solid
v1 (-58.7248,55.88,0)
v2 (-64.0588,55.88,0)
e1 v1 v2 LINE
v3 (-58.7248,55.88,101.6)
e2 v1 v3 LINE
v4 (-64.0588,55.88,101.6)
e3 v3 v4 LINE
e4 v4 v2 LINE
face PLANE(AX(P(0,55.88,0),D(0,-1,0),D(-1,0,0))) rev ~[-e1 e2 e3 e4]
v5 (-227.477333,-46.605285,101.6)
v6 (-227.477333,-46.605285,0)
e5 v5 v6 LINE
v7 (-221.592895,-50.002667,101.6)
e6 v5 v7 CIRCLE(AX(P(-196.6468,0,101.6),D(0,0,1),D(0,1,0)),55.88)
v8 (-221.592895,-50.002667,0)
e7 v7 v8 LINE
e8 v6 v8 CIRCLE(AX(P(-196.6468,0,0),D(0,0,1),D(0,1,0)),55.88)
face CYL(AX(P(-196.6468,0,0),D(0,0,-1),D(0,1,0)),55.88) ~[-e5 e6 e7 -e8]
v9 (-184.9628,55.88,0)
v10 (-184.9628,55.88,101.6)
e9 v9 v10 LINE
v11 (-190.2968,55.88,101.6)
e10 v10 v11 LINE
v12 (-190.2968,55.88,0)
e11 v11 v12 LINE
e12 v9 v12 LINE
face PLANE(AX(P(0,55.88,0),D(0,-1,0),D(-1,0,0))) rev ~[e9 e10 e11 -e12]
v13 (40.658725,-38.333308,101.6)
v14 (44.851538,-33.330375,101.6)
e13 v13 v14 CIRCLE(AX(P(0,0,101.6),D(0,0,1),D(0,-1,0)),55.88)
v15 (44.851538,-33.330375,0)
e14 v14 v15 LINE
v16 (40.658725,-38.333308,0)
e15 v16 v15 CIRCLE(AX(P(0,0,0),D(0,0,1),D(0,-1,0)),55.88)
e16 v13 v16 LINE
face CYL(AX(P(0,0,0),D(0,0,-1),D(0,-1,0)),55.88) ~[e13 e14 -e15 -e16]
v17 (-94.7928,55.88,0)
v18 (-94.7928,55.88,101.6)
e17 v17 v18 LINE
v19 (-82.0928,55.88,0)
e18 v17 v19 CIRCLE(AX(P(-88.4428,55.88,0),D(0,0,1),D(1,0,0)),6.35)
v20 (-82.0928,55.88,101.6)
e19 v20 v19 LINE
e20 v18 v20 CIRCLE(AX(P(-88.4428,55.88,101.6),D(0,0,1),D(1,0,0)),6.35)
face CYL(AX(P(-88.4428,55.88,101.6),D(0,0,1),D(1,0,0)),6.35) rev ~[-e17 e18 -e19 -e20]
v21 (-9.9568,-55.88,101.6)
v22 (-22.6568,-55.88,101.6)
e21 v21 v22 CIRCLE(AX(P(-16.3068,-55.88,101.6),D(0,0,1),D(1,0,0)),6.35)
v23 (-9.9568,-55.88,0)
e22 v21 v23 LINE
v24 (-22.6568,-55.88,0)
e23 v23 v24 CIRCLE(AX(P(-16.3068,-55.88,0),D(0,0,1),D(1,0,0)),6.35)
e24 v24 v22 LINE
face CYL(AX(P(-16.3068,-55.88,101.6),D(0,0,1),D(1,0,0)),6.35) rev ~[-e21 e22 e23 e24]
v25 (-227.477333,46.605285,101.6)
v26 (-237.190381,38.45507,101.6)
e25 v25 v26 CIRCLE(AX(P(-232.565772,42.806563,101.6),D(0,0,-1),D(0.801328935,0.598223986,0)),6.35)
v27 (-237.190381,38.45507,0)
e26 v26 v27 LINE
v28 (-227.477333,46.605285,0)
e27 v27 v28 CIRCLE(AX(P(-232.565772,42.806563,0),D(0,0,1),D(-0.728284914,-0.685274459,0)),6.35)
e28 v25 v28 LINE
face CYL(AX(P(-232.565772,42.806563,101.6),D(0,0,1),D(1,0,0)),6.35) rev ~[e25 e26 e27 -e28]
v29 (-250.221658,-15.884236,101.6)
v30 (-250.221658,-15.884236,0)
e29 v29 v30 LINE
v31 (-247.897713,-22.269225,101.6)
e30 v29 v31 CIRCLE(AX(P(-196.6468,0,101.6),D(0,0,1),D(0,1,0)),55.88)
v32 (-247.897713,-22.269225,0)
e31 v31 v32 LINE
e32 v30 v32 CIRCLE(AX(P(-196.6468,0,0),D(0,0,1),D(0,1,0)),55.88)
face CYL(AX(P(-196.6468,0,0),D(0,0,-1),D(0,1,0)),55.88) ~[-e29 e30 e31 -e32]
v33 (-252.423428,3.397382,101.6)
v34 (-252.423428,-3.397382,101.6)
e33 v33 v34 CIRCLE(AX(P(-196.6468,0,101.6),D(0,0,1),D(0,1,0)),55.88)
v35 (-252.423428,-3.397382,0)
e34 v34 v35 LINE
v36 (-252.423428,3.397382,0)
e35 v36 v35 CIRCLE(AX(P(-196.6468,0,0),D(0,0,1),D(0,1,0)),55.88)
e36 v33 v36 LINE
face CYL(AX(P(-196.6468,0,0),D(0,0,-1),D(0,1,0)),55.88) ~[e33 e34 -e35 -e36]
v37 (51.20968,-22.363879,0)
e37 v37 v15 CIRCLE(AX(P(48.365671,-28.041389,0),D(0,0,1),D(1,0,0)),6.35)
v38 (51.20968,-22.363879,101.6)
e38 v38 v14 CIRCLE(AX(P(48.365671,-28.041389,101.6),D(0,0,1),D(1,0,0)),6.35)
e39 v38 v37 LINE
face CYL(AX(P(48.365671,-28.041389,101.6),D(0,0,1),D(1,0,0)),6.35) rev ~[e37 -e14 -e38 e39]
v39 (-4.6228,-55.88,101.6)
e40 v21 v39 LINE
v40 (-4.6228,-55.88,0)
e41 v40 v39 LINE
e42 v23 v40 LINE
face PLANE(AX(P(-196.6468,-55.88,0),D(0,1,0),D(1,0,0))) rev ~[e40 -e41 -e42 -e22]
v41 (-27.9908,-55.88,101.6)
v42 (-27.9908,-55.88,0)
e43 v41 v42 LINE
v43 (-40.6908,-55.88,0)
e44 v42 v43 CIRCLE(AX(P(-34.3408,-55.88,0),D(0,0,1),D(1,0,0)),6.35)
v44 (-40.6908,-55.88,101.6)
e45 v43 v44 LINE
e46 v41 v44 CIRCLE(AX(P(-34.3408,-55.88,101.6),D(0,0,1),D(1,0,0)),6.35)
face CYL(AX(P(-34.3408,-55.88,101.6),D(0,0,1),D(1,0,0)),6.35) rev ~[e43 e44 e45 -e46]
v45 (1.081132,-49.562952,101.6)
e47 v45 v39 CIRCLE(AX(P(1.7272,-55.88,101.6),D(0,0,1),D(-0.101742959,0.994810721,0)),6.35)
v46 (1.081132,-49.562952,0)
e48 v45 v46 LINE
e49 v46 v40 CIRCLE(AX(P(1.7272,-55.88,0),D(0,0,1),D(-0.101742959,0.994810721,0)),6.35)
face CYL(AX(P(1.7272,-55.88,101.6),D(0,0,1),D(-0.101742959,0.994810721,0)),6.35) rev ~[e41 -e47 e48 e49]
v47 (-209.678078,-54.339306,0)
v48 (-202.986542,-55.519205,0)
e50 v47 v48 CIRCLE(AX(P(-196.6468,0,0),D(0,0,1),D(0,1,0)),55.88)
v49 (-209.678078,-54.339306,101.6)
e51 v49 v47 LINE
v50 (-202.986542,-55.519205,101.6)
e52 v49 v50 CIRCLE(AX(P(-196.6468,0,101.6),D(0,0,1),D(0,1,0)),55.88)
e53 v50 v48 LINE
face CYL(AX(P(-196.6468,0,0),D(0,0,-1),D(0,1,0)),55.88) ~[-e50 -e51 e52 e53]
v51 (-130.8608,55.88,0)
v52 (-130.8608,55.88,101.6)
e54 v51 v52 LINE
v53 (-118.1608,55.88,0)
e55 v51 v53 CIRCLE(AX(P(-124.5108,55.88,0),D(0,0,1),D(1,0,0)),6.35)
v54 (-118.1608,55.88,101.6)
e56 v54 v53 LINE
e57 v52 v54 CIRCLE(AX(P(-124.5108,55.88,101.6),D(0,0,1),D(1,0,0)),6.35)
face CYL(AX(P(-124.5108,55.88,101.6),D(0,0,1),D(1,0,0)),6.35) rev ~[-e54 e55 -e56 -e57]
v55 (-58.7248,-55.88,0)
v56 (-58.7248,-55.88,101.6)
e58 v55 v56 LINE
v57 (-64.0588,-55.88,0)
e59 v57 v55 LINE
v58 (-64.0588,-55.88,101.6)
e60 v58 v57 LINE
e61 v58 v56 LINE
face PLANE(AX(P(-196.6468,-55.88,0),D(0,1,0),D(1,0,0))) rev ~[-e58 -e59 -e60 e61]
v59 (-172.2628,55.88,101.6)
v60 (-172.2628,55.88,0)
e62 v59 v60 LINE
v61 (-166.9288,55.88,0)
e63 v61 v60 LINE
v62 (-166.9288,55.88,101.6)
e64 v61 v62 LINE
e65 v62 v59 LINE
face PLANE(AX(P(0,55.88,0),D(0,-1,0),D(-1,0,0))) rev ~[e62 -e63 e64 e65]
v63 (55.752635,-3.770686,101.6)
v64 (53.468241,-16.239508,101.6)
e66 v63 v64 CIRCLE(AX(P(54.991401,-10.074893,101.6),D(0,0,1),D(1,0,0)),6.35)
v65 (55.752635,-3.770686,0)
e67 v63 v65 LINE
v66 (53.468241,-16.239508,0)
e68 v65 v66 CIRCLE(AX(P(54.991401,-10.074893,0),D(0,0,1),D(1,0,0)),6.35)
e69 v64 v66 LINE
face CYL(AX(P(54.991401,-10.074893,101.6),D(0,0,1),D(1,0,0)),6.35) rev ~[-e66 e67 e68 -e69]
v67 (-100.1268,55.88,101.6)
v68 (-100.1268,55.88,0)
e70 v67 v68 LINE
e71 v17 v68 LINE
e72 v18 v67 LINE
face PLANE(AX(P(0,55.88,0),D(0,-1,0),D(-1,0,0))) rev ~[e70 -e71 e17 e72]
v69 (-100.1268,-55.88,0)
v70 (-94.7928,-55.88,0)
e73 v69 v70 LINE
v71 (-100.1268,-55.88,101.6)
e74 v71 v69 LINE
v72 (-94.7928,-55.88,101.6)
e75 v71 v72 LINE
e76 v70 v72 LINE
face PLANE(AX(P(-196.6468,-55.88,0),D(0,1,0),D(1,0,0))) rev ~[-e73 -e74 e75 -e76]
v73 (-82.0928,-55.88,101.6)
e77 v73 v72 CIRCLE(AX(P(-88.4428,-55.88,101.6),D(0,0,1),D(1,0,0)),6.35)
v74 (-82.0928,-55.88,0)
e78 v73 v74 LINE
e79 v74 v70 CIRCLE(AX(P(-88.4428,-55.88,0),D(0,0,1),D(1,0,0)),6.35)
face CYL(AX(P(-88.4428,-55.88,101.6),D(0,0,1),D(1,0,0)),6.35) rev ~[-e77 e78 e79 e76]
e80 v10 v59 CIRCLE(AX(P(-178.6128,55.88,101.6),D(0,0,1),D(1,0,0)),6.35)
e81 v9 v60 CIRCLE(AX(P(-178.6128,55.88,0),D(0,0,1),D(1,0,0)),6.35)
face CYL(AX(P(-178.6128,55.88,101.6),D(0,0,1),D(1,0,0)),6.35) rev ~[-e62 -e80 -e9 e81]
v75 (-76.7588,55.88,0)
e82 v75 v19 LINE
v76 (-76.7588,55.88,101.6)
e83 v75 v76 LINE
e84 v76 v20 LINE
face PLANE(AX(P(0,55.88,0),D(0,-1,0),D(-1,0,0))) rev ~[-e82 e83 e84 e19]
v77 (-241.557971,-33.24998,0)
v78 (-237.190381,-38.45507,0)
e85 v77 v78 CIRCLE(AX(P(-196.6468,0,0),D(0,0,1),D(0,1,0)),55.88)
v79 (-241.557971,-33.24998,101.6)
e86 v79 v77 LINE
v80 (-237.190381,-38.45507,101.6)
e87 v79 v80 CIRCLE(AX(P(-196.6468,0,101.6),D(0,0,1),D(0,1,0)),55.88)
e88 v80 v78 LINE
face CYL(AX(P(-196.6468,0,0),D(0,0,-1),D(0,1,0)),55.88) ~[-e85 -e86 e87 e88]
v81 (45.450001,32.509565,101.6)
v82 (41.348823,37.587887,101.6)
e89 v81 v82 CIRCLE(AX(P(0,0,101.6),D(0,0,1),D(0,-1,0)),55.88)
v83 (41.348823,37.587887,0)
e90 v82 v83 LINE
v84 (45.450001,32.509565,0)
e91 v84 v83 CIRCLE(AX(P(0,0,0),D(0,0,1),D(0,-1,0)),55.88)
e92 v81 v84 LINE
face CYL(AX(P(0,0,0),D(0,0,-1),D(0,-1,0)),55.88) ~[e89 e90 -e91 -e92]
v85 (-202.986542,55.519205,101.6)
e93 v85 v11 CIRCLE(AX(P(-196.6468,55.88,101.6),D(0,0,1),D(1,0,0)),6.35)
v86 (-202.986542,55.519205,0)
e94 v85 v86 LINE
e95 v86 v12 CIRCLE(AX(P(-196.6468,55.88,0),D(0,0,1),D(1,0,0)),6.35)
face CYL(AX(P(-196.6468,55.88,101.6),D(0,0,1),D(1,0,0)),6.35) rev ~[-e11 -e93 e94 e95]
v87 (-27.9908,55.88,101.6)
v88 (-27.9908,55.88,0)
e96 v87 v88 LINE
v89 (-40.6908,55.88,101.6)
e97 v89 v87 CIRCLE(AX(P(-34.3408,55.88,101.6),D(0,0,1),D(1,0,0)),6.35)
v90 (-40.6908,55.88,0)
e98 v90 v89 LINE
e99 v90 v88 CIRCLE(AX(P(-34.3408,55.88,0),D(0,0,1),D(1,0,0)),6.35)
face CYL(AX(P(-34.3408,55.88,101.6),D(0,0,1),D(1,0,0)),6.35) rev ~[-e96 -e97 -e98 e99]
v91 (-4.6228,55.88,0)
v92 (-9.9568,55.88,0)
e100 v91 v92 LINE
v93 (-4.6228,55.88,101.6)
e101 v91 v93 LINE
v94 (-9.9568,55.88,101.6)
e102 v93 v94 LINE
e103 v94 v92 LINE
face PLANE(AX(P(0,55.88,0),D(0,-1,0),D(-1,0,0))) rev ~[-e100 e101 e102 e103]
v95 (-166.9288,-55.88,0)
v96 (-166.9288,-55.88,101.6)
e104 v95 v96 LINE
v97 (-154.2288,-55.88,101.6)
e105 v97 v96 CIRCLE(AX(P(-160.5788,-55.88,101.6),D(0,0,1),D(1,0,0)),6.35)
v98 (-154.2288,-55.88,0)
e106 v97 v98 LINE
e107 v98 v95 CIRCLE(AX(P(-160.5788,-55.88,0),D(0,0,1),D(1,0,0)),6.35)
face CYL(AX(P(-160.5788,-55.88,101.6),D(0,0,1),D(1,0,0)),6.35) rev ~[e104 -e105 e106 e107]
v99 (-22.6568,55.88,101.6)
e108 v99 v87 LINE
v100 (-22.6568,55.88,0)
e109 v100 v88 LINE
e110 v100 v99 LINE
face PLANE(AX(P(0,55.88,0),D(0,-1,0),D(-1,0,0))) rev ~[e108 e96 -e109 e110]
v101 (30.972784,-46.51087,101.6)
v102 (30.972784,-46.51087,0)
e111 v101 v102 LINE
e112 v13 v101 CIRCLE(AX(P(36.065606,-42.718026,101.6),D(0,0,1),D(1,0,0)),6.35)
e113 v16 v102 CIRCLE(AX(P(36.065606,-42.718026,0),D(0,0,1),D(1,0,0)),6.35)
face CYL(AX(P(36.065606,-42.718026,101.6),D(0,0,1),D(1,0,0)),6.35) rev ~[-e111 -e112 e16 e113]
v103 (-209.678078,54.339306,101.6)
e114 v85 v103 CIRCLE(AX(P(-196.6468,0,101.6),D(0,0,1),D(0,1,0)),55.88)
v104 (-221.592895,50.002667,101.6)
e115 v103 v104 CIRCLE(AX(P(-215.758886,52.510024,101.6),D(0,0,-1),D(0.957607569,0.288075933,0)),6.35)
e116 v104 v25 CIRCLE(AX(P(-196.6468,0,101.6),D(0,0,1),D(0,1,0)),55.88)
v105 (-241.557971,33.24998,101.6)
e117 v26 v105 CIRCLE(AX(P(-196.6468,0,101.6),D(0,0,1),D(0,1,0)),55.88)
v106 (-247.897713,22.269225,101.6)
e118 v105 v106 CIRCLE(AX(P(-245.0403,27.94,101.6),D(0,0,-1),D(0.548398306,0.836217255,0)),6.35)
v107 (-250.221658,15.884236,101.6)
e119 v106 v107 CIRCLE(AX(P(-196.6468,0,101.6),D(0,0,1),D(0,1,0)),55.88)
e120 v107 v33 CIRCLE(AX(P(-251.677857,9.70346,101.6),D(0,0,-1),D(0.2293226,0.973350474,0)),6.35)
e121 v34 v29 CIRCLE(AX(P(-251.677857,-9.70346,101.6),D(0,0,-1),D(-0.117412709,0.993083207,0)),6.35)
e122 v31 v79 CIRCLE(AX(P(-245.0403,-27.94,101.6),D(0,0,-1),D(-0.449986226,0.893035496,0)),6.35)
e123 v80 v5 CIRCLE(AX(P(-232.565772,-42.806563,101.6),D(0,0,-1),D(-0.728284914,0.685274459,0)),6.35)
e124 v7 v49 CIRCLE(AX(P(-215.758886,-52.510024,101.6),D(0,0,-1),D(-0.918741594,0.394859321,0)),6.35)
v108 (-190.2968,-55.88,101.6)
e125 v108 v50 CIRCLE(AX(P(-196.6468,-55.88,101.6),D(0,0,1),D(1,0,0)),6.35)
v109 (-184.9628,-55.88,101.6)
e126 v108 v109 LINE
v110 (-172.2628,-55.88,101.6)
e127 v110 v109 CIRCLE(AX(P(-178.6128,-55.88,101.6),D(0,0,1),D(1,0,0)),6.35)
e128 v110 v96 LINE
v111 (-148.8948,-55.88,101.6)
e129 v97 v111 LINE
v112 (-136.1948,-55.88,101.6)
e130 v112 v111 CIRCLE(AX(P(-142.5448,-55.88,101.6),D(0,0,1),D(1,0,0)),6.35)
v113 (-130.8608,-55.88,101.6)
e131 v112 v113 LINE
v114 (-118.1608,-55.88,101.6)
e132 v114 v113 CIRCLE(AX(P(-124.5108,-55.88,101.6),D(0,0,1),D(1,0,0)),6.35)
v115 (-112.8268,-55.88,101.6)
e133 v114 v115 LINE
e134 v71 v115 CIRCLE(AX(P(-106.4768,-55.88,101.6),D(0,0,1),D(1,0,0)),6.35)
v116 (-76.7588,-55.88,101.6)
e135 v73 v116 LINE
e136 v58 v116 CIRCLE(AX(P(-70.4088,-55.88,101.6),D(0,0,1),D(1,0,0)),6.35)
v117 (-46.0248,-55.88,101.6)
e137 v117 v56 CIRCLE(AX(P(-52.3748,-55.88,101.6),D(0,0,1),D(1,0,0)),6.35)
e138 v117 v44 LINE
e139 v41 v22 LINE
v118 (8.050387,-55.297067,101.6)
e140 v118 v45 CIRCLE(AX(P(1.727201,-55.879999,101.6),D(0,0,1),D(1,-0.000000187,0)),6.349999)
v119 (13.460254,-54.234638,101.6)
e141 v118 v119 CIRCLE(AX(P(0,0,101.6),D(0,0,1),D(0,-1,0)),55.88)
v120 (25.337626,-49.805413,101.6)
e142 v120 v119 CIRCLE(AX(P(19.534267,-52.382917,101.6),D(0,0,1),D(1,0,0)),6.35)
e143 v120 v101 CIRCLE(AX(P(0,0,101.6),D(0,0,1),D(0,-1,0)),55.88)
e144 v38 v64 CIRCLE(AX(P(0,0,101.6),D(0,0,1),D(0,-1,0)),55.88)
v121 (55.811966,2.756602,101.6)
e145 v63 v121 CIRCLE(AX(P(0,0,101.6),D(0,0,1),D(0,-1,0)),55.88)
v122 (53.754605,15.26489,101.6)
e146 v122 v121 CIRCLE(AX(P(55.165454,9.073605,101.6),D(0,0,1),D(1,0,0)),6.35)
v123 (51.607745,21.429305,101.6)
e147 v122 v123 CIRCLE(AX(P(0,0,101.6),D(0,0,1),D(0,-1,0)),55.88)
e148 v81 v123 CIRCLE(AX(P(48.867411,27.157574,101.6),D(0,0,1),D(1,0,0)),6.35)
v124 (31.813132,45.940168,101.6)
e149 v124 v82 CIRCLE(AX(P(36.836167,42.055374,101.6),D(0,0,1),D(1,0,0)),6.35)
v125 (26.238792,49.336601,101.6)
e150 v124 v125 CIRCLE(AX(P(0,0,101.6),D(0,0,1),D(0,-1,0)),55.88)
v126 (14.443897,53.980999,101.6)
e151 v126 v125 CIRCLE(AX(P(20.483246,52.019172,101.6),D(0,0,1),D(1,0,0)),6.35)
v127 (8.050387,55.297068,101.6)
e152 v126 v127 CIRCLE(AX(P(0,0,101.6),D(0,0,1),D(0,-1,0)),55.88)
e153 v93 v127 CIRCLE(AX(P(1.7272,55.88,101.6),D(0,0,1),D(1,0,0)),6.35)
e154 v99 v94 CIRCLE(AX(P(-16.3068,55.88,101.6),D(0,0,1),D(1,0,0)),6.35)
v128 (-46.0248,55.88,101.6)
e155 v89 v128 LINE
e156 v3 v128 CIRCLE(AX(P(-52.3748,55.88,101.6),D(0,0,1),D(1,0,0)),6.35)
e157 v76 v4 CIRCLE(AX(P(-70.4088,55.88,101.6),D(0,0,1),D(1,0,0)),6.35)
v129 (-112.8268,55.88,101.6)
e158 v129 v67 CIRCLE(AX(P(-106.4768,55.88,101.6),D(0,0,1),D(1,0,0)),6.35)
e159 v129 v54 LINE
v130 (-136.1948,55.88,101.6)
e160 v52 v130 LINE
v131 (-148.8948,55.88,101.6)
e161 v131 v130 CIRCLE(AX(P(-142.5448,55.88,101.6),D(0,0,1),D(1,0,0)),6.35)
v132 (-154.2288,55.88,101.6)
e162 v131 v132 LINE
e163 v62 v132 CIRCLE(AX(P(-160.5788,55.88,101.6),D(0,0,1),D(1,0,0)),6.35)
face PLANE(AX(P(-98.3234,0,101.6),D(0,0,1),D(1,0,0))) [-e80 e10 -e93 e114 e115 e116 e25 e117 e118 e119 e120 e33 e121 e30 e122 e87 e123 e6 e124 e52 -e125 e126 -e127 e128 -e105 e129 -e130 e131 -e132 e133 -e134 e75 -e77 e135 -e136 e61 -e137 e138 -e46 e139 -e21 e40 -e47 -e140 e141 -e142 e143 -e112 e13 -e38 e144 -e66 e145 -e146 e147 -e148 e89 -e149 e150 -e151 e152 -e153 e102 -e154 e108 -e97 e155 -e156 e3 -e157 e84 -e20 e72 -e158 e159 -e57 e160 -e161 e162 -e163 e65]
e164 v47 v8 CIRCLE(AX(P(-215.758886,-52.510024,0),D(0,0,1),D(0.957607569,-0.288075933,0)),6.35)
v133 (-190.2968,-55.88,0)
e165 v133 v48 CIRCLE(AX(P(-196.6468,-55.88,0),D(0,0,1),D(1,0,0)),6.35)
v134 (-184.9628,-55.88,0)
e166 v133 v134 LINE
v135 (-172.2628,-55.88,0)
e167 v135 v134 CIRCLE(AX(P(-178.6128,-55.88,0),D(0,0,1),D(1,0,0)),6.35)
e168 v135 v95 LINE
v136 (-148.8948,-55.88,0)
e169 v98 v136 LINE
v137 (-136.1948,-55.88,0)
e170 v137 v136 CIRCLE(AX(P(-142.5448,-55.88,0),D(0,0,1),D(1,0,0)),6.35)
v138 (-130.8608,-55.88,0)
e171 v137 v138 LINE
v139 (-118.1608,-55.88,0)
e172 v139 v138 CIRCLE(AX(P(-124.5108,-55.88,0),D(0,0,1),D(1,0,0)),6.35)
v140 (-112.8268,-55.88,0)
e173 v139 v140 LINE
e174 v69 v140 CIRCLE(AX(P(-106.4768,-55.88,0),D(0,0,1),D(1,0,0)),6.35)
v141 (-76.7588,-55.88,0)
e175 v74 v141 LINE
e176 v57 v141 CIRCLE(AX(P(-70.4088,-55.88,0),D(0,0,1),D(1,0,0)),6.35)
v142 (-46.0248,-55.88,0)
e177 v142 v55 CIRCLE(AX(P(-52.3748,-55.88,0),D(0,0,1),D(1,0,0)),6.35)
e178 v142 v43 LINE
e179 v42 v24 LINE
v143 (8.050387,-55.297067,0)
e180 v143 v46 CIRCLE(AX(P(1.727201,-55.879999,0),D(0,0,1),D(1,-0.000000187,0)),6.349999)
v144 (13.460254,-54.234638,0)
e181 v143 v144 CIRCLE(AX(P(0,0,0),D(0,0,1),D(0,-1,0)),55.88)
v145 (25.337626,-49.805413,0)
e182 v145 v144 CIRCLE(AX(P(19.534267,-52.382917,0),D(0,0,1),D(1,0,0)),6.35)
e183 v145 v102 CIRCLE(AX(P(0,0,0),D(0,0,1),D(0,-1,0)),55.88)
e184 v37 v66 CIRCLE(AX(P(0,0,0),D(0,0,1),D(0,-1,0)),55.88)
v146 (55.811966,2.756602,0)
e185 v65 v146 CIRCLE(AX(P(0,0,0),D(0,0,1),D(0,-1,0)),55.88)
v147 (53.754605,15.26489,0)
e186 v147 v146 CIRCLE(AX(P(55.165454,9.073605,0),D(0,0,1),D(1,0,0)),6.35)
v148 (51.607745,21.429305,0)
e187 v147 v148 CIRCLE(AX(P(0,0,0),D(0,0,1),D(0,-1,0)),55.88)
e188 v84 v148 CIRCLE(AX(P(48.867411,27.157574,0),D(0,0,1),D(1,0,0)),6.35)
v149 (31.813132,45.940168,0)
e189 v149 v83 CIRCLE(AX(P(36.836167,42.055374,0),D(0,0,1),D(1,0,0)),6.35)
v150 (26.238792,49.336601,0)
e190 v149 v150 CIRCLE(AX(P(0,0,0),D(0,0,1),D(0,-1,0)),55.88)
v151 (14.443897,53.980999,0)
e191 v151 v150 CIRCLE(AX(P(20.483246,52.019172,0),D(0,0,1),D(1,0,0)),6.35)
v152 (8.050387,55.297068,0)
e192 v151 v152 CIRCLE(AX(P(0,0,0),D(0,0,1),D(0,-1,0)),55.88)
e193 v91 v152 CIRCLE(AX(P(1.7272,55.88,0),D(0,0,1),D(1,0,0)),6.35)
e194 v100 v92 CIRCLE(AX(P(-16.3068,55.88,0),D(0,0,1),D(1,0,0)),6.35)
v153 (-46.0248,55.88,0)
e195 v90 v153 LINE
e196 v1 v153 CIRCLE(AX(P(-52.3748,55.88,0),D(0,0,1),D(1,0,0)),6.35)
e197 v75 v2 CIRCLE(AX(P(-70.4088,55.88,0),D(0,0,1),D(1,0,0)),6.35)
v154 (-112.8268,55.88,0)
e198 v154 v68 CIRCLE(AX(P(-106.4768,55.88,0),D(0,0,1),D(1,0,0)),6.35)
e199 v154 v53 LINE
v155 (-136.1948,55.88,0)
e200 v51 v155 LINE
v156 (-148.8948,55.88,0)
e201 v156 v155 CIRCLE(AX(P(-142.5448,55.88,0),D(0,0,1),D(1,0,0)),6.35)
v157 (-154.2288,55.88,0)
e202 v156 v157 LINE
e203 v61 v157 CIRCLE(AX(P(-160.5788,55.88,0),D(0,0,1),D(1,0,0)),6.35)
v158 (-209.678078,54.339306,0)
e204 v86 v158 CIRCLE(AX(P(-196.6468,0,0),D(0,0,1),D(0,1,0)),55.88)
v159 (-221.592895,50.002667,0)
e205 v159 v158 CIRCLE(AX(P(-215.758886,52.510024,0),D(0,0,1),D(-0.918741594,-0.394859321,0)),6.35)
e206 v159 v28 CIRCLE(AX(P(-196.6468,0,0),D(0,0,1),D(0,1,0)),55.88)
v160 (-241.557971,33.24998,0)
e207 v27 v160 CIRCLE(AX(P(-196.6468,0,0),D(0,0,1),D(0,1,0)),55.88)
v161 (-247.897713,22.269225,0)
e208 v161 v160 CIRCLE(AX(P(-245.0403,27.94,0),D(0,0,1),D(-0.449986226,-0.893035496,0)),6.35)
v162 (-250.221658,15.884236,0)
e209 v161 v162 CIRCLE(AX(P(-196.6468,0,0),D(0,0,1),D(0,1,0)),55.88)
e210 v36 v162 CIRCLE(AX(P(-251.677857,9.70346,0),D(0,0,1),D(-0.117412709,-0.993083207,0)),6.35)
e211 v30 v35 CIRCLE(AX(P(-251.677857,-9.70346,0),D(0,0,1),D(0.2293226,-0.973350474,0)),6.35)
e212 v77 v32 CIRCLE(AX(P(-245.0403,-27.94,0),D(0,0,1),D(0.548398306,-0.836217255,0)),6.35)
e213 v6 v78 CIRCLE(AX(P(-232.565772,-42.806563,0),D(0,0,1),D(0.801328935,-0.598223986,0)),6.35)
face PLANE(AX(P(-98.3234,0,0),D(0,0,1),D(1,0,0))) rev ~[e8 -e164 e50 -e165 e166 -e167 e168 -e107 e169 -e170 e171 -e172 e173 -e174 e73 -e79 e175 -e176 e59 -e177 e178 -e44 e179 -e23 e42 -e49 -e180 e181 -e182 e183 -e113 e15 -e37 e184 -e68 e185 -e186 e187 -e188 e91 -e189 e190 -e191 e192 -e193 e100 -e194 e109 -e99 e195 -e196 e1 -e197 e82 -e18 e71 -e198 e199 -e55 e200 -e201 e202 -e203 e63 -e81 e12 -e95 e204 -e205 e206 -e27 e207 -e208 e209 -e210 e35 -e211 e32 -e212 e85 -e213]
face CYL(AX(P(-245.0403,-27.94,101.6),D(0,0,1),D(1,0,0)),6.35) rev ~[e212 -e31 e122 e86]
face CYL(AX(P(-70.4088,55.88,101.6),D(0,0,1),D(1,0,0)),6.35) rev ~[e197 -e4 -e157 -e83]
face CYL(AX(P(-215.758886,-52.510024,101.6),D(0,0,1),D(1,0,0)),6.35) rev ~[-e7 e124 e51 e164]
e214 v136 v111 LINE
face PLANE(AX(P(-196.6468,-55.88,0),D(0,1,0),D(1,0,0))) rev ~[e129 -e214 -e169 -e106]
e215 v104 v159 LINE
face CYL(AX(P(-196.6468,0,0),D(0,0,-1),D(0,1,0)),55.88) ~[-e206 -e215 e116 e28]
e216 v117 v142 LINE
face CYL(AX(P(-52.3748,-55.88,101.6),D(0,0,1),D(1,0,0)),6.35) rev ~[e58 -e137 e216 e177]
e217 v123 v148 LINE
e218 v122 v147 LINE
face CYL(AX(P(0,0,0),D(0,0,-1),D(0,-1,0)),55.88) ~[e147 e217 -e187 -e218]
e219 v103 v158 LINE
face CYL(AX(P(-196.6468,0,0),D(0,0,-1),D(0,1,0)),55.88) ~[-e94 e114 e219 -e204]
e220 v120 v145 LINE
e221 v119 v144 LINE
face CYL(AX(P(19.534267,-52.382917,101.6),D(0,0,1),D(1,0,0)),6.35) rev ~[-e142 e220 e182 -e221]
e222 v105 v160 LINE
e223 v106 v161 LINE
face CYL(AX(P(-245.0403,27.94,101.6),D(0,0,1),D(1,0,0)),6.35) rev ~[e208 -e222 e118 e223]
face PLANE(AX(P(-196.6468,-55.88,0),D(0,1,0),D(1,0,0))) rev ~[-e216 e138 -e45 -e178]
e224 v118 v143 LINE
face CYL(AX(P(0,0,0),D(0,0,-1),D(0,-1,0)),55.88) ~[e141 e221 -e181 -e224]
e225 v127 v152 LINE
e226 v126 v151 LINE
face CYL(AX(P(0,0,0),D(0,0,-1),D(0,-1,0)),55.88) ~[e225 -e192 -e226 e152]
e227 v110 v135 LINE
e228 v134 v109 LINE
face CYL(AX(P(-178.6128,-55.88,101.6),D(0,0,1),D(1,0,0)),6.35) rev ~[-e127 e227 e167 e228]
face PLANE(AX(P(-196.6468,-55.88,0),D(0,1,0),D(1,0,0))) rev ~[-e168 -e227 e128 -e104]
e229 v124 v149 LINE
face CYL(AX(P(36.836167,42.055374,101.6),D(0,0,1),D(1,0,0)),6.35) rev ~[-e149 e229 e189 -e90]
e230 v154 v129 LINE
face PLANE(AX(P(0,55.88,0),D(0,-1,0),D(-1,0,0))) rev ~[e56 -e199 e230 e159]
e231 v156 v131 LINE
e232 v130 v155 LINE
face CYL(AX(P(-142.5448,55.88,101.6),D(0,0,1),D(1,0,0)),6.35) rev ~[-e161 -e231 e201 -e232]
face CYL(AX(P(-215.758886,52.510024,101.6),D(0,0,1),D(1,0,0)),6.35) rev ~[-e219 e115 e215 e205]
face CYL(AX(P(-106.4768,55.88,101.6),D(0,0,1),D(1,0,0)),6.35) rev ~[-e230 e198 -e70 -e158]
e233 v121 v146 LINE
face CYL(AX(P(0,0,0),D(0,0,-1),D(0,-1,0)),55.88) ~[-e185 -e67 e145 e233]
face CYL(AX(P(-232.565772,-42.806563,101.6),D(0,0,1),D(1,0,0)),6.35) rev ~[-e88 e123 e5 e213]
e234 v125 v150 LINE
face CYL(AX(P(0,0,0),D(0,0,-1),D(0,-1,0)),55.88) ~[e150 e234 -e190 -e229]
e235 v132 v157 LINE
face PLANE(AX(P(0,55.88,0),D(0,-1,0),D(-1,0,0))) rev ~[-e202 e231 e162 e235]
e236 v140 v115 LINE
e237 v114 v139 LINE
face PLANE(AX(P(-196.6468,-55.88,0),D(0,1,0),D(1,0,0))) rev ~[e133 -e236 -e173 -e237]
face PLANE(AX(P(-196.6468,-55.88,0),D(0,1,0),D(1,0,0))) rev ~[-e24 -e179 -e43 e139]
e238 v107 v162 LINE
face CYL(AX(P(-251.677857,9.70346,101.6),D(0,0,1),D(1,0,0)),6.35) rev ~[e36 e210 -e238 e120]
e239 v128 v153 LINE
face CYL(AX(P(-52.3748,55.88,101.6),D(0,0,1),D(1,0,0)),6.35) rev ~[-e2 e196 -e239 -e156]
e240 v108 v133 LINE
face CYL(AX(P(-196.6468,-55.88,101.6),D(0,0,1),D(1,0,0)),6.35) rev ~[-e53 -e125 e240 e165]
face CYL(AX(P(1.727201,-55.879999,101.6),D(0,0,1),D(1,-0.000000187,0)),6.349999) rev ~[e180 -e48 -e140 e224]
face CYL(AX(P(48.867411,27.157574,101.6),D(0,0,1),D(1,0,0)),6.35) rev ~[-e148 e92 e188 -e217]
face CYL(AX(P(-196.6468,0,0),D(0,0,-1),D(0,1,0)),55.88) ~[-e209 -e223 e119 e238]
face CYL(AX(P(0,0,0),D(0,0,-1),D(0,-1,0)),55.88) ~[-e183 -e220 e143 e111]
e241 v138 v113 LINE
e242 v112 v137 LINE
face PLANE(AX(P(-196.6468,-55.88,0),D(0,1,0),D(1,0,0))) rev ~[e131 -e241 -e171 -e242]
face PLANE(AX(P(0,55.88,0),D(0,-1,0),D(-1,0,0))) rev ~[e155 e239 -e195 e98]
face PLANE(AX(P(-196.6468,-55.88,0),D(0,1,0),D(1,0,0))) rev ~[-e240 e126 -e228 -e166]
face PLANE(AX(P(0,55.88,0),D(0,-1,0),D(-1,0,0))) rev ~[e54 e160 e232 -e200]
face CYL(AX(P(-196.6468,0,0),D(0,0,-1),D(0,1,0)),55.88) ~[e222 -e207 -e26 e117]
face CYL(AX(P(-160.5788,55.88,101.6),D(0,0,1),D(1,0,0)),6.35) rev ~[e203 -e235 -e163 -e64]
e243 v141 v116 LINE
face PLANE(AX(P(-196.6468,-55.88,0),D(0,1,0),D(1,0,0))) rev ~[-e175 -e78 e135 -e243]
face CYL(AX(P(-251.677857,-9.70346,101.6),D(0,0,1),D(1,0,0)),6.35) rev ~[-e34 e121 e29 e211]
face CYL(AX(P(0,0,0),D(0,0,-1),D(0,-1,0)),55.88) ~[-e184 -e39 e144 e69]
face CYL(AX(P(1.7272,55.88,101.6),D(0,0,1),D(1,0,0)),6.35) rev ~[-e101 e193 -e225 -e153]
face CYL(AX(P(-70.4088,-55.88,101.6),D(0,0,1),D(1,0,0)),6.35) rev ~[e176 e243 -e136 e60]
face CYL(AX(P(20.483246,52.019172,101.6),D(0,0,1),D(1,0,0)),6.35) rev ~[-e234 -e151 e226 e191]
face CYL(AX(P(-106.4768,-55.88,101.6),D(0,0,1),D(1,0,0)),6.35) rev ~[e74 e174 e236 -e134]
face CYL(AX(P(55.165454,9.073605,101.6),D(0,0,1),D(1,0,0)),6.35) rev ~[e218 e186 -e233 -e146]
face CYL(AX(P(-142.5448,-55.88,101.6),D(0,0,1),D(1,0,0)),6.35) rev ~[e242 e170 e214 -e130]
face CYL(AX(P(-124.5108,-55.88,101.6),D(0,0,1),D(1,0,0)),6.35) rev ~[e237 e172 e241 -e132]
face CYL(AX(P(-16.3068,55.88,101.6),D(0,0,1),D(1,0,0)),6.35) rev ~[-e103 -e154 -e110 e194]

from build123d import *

# Parameters (mm, degrees)
F1_DEPTH = 101.6
F2_R     = 6.35
F3_DEPTH = 101.601


with BuildPart() as f1:
    # F0 (on Top) → F1 (new body)
    with BuildSketch(Plane.XY):
        with BuildLine():
            Line((0, 55.88), (-196.6468, 55.88))
            ThreePointArc((-196.6468, 55.88), (-252.5268, 0), (-196.6468, -55.88))
            Line((-196.6468, -55.88), (0, -55.88))
            ThreePointArc((0, -55.88), (55.88, 0), (0, 55.88))
        make_face()
    extrude(amount=F1_DEPTH)

    # F2 (on face) → F3 (cut, through all)
    with BuildSketch(Plane.XY.offset(101.6)):
        with Locations((-196.6468, 55.88)):
            Circle(F2_R)
        with Locations((-178.6128, 55.88)):
            Circle(F2_R)
        with Locations((-160.5788, 55.88)):
            Circle(F2_R)
        with Locations((-142.5448, 55.88)):
            Circle(F2_R)
        with Locations((-124.5108, 55.88)):
            Circle(F2_R)
        with Locations((-106.4768, 55.88)):
            Circle(F2_R)
        with Locations((-88.4428, 55.88)):
            Circle(F2_R)
        with Locations((-70.4088, 55.88)):
            Circle(F2_R)
        with Locations((-52.3748, 55.88)):
            Circle(F2_R)
        with Locations((-34.3408, 55.88)):
            Circle(F2_R)
        with Locations((-16.3068, 55.88)):
            Circle(F2_R)
        with Locations((1.7272, 55.88)):
            Circle(F2_R)
        with Locations((-196.6468, -55.88)):
            Circle(F2_R)
        with Locations((-178.6128, -55.88)):
            Circle(F2_R)
        with Locations((-160.5788, -55.88)):
            Circle(F2_R)
        with Locations((-142.5448, -55.88)):
            Circle(F2_R)
        with Locations((-124.5108, -55.88)):
            Circle(F2_R)
        with Locations((-106.4768, -55.88)):
            Circle(F2_R)
        with Locations((-88.4428, -55.88)):
            Circle(F2_R)
        with Locations((-70.4088, -55.88)):
            Circle(F2_R)
        with Locations((-52.3748, -55.88)):
            Circle(F2_R)
        with Locations((-34.3408, -55.88)):
            Circle(F2_R)
        with Locations((-16.3068, -55.88)):
            Circle(F2_R)
        with BuildLine():
            ThreePointArc((1.081132, -49.562952), (-2.528383, -60.593016), (8.0772, -55.88))
            ThreePointArc((8.0772, -55.88), (5.982783, -51.166984), (1.081132, -49.562952))
        make_face()
        with Locations((-215.758886, 52.510024)):
            Circle(F2_R)
        with Locations((-232.565772, 42.806563)):
            Circle(F2_R)
        with Locations((-245.0403, 27.94)):
            Circle(F2_R)
        with Locations((-251.677857, 9.70346)):
            Circle(F2_R)
        with Locations((-251.677857, -9.70346)):
            Circle(F2_R)
        with Locations((-245.0403, -27.94)):
            Circle(F2_R)
        with Locations((-232.565772, -42.806563)):
            Circle(F2_R)
        with Locations((-215.758886, -52.510024)):
            Circle(F2_R)
        with Locations((20.483246, 52.019172)):
            Circle(F2_R)
        with Locations((36.836167, 42.055374)):
            Circle(F2_R)
        with Locations((48.867411, 27.157574)):
            Circle(F2_R)
        with Locations((55.165454, 9.073605)):
            Circle(F2_R)
        with Locations((54.991401, -10.074893)):
            Circle(F2_R)
        with Locations((48.365671, -28.041389)):
            Circle(F2_R)
        with Locations((36.065606, -42.718026)):
            Circle(F2_R)
        with Locations((19.534267, -52.382917)):
            Circle(F2_R)
    extrude(amount=-F3_DEPTH, mode=Mode.SUBTRACT)


solid = f1.part
